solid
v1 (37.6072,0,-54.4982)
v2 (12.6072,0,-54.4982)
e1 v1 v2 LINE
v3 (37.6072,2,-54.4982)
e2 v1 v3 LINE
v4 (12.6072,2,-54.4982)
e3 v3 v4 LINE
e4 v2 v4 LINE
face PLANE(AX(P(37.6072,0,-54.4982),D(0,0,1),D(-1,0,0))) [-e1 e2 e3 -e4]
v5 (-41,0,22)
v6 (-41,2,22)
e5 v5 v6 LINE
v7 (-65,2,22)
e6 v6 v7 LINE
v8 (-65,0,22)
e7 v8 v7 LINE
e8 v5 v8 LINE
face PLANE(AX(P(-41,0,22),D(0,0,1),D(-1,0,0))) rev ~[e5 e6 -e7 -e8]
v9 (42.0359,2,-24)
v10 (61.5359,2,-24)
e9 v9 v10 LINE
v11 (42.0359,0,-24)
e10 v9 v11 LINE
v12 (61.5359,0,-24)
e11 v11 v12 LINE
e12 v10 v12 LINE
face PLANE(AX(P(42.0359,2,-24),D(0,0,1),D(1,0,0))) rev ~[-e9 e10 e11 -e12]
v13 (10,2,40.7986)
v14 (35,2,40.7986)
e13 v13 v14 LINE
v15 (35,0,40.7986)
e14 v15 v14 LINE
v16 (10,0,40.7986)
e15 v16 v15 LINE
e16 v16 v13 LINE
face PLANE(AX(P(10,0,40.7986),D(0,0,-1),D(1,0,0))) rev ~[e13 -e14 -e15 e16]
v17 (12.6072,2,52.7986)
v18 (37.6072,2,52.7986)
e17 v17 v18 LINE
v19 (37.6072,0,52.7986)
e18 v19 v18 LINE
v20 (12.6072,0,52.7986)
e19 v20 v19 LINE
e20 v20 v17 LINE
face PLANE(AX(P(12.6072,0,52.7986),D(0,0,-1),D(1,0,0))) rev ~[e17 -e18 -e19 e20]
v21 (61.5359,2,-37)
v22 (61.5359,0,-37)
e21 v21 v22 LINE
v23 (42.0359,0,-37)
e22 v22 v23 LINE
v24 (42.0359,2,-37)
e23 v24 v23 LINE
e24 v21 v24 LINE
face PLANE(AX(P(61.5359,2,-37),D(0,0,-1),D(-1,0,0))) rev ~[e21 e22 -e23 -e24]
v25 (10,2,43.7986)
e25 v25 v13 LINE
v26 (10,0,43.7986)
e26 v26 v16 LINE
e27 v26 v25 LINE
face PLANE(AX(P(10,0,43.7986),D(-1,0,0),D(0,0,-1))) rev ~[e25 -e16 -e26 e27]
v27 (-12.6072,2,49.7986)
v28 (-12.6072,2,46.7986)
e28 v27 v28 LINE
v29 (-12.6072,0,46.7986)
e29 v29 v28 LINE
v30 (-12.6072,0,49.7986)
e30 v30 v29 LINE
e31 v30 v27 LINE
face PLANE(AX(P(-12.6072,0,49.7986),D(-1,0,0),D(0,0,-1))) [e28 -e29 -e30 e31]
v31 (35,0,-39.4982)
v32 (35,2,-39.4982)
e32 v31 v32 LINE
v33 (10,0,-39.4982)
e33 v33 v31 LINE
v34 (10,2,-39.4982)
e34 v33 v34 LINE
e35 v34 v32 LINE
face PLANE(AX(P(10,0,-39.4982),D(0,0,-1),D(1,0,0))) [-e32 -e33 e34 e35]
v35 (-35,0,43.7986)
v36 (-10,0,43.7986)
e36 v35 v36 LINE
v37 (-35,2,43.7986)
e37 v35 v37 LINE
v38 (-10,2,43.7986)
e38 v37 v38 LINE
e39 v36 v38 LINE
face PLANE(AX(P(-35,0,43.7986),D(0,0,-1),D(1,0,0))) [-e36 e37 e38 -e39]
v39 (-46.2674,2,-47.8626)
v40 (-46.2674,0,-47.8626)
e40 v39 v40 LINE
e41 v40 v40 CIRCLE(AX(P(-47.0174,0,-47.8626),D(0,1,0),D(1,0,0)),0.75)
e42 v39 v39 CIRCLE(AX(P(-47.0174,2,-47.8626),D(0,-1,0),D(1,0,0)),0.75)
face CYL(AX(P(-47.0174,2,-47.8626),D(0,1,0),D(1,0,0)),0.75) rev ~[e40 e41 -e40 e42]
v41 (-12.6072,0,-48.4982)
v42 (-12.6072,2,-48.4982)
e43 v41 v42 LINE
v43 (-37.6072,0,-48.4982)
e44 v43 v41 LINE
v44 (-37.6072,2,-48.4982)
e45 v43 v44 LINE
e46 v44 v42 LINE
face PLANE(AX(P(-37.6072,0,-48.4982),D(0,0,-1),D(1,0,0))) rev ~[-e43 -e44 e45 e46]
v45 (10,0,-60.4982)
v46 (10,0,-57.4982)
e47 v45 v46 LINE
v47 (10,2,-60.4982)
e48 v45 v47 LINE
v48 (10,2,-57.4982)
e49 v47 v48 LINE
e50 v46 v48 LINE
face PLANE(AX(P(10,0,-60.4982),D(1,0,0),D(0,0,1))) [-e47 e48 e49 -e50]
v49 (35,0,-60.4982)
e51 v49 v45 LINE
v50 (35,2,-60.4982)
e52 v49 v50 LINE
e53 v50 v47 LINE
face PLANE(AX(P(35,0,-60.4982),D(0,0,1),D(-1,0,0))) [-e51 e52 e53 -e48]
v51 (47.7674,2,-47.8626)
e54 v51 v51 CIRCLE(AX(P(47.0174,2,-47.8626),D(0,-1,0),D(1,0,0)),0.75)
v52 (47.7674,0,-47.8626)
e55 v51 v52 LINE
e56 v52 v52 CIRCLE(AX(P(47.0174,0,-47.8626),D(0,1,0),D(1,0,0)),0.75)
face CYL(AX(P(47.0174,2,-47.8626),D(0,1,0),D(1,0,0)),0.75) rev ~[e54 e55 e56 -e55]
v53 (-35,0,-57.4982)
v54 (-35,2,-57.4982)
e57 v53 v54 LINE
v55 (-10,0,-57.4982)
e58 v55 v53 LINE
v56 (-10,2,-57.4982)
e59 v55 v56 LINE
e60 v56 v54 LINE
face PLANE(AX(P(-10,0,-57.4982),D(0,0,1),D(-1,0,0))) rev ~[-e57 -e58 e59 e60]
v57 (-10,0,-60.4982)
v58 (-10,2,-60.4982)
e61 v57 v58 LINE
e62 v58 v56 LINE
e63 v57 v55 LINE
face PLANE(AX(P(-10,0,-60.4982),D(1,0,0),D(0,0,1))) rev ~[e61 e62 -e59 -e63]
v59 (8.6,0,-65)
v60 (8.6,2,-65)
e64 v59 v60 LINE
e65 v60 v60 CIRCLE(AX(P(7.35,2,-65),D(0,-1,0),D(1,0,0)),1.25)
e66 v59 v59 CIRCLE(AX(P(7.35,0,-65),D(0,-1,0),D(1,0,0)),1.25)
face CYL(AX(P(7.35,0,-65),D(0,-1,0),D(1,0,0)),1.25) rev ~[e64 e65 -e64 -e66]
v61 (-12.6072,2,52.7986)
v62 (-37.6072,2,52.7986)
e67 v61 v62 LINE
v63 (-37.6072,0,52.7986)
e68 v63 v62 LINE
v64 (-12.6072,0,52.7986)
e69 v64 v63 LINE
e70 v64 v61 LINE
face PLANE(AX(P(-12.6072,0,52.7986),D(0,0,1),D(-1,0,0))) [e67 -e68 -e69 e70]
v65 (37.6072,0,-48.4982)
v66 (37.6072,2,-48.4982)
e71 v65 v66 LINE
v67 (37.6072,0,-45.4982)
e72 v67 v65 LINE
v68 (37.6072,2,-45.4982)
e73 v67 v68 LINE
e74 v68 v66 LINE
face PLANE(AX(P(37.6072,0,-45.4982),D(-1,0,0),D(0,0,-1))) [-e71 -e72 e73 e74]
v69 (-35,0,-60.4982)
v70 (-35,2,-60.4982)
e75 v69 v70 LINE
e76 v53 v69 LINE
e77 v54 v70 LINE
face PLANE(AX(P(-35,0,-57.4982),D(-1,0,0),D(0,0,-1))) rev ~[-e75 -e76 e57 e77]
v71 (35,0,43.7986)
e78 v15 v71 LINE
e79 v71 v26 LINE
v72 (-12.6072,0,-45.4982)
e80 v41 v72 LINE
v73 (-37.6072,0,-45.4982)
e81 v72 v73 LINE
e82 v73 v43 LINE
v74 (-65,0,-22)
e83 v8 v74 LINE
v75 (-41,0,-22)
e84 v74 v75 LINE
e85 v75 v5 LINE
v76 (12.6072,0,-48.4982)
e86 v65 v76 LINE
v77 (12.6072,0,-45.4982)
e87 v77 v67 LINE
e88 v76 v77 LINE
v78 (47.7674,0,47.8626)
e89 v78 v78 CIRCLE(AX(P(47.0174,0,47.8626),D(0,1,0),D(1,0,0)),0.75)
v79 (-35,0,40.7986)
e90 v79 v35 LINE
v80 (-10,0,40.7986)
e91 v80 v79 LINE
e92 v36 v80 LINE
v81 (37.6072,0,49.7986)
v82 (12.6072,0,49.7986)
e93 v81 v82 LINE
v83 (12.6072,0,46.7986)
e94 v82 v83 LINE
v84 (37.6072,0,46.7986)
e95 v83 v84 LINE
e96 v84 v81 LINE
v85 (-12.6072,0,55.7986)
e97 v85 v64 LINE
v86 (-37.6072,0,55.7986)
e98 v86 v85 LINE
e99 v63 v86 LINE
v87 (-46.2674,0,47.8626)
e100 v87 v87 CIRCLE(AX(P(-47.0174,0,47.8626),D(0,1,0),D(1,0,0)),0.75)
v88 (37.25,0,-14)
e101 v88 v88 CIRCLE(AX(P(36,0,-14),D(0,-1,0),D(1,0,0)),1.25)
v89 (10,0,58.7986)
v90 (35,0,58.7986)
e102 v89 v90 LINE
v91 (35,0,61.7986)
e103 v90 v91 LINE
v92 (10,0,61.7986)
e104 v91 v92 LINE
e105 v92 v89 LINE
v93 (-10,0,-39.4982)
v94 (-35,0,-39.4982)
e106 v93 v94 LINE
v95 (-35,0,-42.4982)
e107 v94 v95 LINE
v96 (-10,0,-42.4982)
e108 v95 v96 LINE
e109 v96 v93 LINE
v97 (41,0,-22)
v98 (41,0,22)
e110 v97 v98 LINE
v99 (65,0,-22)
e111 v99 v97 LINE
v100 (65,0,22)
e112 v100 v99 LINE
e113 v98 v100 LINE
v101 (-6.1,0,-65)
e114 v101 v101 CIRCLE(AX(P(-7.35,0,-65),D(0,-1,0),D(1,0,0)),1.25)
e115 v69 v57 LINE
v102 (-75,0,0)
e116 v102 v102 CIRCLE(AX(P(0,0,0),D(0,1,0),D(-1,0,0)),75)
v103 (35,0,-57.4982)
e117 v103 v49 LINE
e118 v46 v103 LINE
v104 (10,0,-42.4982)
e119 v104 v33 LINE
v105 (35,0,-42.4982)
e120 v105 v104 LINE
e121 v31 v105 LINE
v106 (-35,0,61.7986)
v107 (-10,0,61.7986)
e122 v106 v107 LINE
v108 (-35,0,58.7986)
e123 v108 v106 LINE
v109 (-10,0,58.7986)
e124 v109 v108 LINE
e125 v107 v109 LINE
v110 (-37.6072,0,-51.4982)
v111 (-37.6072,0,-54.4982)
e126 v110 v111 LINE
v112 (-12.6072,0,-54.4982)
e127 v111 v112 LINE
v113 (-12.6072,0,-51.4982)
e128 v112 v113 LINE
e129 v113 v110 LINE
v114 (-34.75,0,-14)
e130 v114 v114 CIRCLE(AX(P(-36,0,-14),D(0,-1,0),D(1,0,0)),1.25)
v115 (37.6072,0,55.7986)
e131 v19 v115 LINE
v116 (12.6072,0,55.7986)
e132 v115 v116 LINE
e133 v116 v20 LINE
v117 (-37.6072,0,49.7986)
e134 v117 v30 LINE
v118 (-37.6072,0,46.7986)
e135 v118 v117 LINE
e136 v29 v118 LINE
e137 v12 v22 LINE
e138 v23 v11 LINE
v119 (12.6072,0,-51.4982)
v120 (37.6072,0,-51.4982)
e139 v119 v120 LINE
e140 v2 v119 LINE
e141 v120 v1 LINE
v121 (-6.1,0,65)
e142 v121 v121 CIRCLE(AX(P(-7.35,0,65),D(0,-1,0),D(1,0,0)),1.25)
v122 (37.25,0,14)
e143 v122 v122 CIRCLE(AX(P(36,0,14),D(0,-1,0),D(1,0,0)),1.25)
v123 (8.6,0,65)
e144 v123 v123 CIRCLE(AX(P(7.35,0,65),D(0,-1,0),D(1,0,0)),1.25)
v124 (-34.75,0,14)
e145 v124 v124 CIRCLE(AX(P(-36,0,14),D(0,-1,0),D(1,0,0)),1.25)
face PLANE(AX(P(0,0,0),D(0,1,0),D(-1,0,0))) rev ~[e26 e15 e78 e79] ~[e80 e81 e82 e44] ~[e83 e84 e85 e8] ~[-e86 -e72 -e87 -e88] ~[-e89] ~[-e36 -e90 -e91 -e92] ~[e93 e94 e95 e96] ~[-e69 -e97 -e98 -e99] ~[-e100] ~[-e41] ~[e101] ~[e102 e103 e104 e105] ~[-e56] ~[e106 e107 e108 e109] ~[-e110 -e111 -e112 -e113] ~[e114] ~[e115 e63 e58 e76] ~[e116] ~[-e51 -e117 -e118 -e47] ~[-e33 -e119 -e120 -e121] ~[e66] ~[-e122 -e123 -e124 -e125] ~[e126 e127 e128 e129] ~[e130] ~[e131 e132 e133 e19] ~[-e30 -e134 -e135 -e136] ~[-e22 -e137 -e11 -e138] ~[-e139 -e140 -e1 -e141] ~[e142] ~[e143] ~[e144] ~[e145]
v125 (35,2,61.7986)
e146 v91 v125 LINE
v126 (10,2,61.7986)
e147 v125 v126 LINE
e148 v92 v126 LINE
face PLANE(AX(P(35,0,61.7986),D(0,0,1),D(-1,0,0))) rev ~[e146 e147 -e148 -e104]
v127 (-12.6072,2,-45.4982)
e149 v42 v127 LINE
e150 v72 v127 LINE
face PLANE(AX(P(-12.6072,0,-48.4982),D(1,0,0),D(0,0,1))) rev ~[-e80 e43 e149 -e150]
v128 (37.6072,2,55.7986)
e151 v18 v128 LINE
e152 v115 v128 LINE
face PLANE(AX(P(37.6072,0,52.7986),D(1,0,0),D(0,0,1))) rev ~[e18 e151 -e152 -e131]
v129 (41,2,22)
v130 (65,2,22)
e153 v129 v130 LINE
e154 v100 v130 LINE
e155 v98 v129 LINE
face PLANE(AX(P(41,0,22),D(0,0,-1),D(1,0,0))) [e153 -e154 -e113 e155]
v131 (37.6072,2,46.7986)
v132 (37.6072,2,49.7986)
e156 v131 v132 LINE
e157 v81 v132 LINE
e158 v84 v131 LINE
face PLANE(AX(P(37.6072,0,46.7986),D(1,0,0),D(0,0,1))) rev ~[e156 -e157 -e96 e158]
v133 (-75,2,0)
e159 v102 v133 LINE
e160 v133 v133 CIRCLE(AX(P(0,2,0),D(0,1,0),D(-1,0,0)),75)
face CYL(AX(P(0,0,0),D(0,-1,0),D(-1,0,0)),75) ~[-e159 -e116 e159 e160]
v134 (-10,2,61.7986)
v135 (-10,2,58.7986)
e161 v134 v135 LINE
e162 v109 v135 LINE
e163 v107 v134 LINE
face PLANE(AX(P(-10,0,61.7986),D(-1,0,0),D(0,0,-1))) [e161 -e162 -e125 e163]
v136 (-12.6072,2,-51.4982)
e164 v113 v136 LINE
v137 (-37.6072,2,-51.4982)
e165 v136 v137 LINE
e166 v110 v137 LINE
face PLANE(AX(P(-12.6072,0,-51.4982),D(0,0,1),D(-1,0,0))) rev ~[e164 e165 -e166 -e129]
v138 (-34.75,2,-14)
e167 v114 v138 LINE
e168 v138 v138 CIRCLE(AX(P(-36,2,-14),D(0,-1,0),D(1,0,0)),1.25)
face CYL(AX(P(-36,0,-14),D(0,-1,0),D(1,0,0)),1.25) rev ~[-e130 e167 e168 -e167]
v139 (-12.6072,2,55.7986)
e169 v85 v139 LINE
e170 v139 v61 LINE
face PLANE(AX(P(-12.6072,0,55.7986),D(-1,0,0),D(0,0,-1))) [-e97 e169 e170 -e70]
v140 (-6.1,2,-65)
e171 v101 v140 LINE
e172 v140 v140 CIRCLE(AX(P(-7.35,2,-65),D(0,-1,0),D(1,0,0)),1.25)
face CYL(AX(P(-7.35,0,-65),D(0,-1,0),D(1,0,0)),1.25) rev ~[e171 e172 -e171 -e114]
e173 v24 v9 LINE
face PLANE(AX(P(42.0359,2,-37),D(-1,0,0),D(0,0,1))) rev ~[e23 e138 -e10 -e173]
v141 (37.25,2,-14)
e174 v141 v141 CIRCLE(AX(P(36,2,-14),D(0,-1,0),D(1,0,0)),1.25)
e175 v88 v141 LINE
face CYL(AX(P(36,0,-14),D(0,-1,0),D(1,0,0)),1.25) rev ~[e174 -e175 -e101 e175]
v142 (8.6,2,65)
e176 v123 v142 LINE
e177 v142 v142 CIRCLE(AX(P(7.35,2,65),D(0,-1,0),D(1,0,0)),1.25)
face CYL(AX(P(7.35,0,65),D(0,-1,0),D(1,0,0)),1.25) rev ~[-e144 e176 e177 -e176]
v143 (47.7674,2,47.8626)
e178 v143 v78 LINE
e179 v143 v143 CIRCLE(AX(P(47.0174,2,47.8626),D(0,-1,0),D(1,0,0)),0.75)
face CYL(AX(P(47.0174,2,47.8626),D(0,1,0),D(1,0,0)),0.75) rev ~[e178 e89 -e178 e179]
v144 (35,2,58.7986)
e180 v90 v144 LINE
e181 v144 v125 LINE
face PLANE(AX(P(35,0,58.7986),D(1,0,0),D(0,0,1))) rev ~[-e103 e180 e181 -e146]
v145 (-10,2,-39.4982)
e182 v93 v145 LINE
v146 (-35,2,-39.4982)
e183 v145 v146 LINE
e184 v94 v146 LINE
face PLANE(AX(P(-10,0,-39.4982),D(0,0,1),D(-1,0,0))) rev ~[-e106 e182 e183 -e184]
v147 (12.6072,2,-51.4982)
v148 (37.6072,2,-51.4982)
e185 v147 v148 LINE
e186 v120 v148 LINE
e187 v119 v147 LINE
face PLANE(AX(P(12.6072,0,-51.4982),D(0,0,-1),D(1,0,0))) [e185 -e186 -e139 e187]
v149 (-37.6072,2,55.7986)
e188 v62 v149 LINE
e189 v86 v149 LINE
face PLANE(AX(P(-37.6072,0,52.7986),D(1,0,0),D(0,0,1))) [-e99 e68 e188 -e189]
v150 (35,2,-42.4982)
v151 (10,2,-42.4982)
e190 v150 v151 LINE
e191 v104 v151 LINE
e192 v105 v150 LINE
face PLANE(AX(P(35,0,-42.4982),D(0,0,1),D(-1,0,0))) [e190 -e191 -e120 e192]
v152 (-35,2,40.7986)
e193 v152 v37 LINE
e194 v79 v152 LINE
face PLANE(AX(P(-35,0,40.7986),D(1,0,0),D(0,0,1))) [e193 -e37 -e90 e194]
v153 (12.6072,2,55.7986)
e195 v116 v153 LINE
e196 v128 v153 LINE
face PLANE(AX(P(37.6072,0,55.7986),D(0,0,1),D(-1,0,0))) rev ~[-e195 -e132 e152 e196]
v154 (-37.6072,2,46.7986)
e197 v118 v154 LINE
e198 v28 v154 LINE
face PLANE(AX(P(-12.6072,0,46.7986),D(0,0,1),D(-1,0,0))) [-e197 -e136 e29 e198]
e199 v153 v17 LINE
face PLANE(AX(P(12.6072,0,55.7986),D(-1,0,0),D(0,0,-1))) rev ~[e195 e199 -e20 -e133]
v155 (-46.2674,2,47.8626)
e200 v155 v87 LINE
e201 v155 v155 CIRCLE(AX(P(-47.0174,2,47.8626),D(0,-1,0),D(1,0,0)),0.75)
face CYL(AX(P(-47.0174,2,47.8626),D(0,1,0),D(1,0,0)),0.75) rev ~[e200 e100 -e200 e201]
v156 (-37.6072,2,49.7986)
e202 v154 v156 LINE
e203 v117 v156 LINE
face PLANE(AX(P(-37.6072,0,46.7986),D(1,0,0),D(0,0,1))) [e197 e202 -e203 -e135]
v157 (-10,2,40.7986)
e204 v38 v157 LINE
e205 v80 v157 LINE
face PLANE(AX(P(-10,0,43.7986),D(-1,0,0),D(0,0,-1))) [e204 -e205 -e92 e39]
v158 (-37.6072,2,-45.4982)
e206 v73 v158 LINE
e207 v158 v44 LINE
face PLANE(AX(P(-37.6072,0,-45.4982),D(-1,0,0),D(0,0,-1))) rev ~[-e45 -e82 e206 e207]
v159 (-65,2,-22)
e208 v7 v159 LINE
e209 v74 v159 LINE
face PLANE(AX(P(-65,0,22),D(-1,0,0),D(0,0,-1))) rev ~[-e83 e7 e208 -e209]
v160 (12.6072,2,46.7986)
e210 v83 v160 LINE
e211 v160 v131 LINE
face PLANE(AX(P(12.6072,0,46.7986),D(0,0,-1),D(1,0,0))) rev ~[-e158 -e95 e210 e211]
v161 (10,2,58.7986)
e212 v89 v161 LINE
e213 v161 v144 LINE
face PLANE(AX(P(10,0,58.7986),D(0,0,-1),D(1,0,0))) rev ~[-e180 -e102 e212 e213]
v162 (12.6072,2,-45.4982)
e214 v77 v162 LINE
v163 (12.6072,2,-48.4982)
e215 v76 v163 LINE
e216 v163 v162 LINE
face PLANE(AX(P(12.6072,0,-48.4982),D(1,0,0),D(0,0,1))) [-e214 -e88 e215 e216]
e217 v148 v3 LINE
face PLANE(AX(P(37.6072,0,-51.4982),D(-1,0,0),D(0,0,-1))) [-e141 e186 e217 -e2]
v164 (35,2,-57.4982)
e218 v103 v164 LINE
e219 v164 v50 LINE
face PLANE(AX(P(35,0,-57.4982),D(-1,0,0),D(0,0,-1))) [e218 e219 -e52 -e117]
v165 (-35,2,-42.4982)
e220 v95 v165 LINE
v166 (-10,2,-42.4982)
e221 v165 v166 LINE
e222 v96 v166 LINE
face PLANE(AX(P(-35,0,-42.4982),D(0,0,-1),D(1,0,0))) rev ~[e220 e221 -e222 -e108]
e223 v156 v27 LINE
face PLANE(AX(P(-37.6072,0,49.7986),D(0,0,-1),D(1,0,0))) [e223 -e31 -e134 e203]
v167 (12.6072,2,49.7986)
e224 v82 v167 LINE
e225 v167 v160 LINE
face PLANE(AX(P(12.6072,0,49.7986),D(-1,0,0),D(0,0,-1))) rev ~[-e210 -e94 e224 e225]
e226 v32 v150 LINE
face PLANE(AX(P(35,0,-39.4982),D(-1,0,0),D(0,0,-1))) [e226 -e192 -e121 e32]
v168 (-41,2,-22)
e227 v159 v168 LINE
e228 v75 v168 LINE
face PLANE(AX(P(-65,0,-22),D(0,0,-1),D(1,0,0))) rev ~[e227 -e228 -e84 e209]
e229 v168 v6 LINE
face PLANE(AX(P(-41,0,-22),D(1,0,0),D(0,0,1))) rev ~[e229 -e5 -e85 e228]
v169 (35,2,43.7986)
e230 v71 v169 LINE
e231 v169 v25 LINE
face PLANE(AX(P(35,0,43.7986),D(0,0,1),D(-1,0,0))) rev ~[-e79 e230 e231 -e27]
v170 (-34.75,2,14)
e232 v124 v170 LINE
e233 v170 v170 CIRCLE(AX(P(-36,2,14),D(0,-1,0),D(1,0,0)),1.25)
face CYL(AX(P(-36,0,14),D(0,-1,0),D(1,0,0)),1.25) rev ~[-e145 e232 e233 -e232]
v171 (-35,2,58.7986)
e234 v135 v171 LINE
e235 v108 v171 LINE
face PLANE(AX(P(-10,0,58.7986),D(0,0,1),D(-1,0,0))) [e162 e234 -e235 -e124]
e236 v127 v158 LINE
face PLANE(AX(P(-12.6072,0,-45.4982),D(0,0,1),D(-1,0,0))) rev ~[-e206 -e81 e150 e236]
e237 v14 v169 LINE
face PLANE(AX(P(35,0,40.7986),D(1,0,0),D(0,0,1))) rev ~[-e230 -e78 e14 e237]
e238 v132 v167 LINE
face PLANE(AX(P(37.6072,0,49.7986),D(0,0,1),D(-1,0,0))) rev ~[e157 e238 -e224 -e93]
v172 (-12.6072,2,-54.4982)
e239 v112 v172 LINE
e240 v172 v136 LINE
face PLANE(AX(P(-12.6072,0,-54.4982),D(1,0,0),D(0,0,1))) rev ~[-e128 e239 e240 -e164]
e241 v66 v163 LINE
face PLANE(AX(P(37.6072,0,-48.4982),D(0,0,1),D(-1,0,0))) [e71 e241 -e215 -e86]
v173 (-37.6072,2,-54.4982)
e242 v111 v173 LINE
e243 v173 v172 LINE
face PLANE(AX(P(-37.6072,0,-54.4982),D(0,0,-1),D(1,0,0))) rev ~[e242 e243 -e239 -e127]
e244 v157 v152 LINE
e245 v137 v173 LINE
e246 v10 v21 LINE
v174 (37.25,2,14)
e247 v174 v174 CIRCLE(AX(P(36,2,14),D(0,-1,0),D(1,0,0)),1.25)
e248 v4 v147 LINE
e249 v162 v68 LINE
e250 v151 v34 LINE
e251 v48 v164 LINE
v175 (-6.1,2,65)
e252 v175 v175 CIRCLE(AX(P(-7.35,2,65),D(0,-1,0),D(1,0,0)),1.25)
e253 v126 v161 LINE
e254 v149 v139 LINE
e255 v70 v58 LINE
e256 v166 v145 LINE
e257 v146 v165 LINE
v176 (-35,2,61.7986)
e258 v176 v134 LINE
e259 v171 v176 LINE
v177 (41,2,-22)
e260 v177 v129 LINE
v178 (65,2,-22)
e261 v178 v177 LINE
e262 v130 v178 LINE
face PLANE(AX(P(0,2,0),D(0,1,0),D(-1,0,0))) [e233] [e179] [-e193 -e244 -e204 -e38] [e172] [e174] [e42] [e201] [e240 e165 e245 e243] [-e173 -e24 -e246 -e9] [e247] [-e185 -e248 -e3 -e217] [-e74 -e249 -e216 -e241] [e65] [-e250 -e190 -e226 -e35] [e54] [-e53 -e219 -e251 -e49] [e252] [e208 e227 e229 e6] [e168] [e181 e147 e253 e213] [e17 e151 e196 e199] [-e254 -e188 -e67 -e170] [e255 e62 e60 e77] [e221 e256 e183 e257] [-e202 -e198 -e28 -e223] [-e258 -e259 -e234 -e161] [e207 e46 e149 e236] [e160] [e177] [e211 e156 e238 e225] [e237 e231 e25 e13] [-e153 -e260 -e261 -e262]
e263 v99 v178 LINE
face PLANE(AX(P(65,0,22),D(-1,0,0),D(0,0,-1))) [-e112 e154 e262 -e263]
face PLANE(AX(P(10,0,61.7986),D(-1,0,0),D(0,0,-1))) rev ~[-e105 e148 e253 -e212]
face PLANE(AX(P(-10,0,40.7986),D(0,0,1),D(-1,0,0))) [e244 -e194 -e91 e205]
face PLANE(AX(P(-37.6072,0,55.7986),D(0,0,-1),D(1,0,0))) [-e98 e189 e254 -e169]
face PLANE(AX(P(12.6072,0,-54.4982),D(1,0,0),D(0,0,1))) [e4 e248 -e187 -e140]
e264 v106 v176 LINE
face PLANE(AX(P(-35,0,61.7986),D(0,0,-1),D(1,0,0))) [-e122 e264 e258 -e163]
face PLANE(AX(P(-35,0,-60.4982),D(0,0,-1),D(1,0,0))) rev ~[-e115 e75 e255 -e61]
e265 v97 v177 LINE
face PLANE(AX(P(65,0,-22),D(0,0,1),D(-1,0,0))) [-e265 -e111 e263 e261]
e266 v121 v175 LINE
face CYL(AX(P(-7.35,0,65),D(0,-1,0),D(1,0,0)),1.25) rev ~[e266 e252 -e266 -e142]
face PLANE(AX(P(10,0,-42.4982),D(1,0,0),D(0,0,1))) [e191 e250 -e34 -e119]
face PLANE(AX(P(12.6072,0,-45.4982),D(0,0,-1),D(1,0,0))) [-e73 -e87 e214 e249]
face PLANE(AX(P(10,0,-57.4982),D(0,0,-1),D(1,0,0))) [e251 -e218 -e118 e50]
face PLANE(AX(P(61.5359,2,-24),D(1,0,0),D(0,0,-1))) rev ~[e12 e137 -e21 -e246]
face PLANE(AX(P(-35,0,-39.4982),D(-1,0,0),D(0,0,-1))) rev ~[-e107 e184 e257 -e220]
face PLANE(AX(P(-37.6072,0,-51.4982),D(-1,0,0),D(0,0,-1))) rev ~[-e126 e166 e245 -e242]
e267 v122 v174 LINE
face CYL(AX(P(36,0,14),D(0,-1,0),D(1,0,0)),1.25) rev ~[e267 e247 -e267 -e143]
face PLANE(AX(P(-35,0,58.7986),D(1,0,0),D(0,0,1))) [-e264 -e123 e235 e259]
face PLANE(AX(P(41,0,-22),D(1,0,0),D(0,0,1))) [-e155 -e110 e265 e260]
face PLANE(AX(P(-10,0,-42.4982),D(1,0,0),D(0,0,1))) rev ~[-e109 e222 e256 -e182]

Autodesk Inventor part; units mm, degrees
ref_plane "YZ Plane" through (0, 0, 0) normal (1, 0, 0) x (0, 1, 0)
ref_plane "XZ Plane" through (0, 0, 0) normal (0, 1, 0) x (-1, 0, 0)
ref_plane "XY Plane" through (0, 0, 0) normal (0, 0, 1) x (1, 0, 0)
sketch "Boceto1" plane through (0, 0, 0) normal (0, 1, 0) x (-1, 0, 0)
  circle A0 centre (0, 0) radius 75
  line L0 (65, -22) -> (41, -22)
  line L1 (41, -22) -> (41, 22)
  line L2 (41, 22) -> (65, 22)
  line L3 (65, 22) -> (65, -22)
  line L4 (37.6072, -48.4982) -> (12.6072, -48.4982)
  line L5 (12.6072, -48.4982) -> (12.6072, -45.4982)
  line L6 (12.6072, -45.4982) -> (37.6072, -45.4982)
  line L7 (37.6072, -45.4982) -> (37.6072, -48.4982)
  line L8 (37.6072, -54.4982) -> (12.6072, -54.4982)
  line L9 (12.6072, -54.4982) -> (12.6072, -51.4982)
  line L10 (12.6072, -51.4982) -> (37.6072, -51.4982)
  line L11 (37.6072, -51.4982) -> (37.6072, -54.4982)
  line L12 (35, -60.4982) -> (10, -60.4982)
  line L13 (10, -60.4982) -> (10, -57.4982)
  line L14 (10, -57.4982) -> (35, -57.4982)
  line L15 (35, -57.4982) -> (35, -60.4982)
  line L16 (35, -42.4982) -> (10, -42.4982)
  line L17 (10, -42.4982) -> (10, -39.4982)
  line L18 (10, -39.4982) -> (35, -39.4982)
  line L19 (35, -39.4982) -> (35, -42.4982)
  line L20 (-37.6072, -48.4982) -> (-12.6072, -48.4982)
  line L21 (-12.6072, -48.4982) -> (-12.6072, -45.4982)
  line L22 (-12.6072, -45.4982) -> (-37.6072, -45.4982)
  line L23 (-37.6072, -45.4982) -> (-37.6072, -48.4982)
  line L24 (-37.6072, -54.4982) -> (-12.6072, -54.4982)
  line L25 (-37.6072, -51.4982) -> (-37.6072, -54.4982)
  line L26 (-12.6072, -51.4982) -> (-37.6072, -51.4982)
  line L27 (-12.6072, -54.4982) -> (-12.6072, -51.4982)
  line L28 (-35, -60.4982) -> (-10, -60.4982)
  line L29 (-35, -57.4982) -> (-35, -60.4982)
  line L30 (-10, -57.4982) -> (-35, -57.4982)
  line L31 (-10, -60.4982) -> (-10, -57.4982)
  line L32 (-35, -42.4982) -> (-10, -42.4982)
  line L33 (-35, -39.4982) -> (-35, -42.4982)
  line L34 (-10, -39.4982) -> (-35, -39.4982)
  line L35 (-10, -42.4982) -> (-10, -39.4982)
  line L36 (-65, -22) -> (-41, -22)
  line L37 (-41, -22) -> (-41, 22)
  line L38 (-41, 22) -> (-65, 22)
  line L39 (-65, 22) -> (-65, -22)
  line L40 (37.6072, 49.7986) -> (12.6072, 49.7986)
  line L41 (12.6072, 49.7986) -> (12.6072, 46.7986)
  line L42 (12.6072, 46.7986) -> (37.6072, 46.7986)
  line L43 (37.6072, 46.7986) -> (37.6072, 49.7986)
  line L44 (37.6072, 55.7986) -> (12.6072, 55.7986)
  line L45 (37.6072, 52.7986) -> (37.6072, 55.7986)
  line L46 (12.6072, 52.7986) -> (37.6072, 52.7986)
  line L47 (12.6072, 55.7986) -> (12.6072, 52.7986)
  line L48 (35, 61.7986) -> (10, 61.7986)
  line L49 (35, 58.7986) -> (35, 61.7986)
  line L50 (10, 58.7986) -> (35, 58.7986)
  line L51 (10, 61.7986) -> (10, 58.7986)
  line L52 (35, 43.7986) -> (10, 43.7986)
  line L53 (35, 40.7986) -> (35, 43.7986)
  line L54 (10, 40.7986) -> (35, 40.7986)
  line L55 (10, 43.7986) -> (10, 40.7986)
  line L56 (-35, 40.7986) -> (-35, 43.7986)
  line L57 (-10, 43.7986) -> (-10, 40.7986)
  line L58 (-10, 40.7986) -> (-35, 40.7986)
  line L59 (-35, 43.7986) -> (-10, 43.7986)
  line L60 (-12.6072, 49.7986) -> (-12.6072, 46.7986)
  line L61 (-12.6072, 46.7986) -> (-37.6072, 46.7986)
  line L62 (-37.6072, 46.7986) -> (-37.6072, 49.7986)
  line L63 (-37.6072, 49.7986) -> (-12.6072, 49.7986)
  line L64 (-12.6072, 55.7986) -> (-12.6072, 52.7986)
  line L65 (-12.6072, 52.7986) -> (-37.6072, 52.7986)
  line L66 (-37.6072, 55.7986) -> (-12.6072, 55.7986)
  line L67 (-10, 58.7986) -> (-35, 58.7986)
  line L68 (-35, 61.7986) -> (-10, 61.7986)
  line L69 (-10, 61.7986) -> (-10, 58.7986)
  line L70 (-37.6072, 52.7986) -> (-37.6072, 55.7986)
  line L71 (-35, 58.7986) -> (-35, 61.7986)
  point P0 (0, 25.3749)
  dimension "d0" = 150
  dimension "d1" = 24
  dimension "d2" = 44
  dimension "d3" = 10
  dimension "d4" = 25
  dimension "d5" = 3
  dimension "d6" = 25
  dimension "d7" = 3
  dimension "d8" = 25
  dimension "d9" = 3
  dimension "d10" = 25
  dimension "d11" = 3
  dimension "d12" = 3
  dimension "d13" = 3
  dimension "d14" = 3
  dimension "d15" = 0
extrude "Extrusión1" add sketch "Boceto1" along normal blind 2
sketch "Boceto2" plane through (0, 2, 0) normal (0, 1, 0) x (1, 0, 0)
  line L0 (0, 0) -> (0, -9.9603)
  line L1 (0, 0) -> (61.7788, -62.8893)
  circle A0 centre (47.0174, -47.8626) radius 0.75
  arc A1 (50.5529, -44.327) -> (43.5135, -51.4295) centre (47.0174, -47.8626) ccw
  line L2 (-72.438, 0) -> (-75, 0)
  circle A2 centre (0, 0) radius 72.438
  line L3 (44.0781, -44.8705) -> (47.0174, -47.8626)
  line L4 (43.4505, -51.3665) -> (48.0344, -55.9504)
  line L5 (43.4505, -51.3665) -> (49.9332, -51.3665) construction
  line L6 (47.0174, -47.8626) -> (52.0174, -47.8626) construction
  line L7 (50.5529, -44.327) -> (55.1054, -48.8795)
  line L8 (55.1054, -48.8795) -> (48.0344, -55.9504)
  circle A3 centre (-47.0174, -47.8626) radius 0.75
  arc A4 (-43.5135, -51.4295) -> (-50.5529, -44.327) centre (-47.0174, -47.8626) ccw
  line L9 (-44.0781, -44.8705) -> (-47.0174, -47.8626)
  line L10 (-43.4505, -51.3665) -> (-48.0344, -55.9504)
  line L11 (-43.4505, -51.3665) -> (-49.9332, -51.3665) construction
  line L12 (-47.0174, -47.8626) -> (-52.0174, -47.8626) construction
  line L13 (-50.5529, -44.327) -> (-55.1054, -48.8795)
  line L14 (-55.1054, -48.8795) -> (-48.0344, -55.9504)
  line L15 (0, 0) -> (7.916, 0)
  line L16 (-44.0781, 44.8705) -> (-47.0174, 47.8626)
  circle A5 centre (-47.0174, 47.8626) radius 0.75
  line L17 (-43.4505, 51.3665) -> (-49.9332, 51.3665) construction
  arc A6 (-50.5529, 44.327) -> (-43.5135, 51.4295) centre (-47.0174, 47.8626) ccw
  line L18 (-43.4505, 51.3665) -> (-48.0344, 55.9504)
  line L19 (-47.0174, 47.8626) -> (-52.0174, 47.8626) construction
  line L20 (-50.5529, 44.327) -> (-55.1054, 48.8795)
  line L21 (-55.1054, 48.8795) -> (-48.0344, 55.9504)
  line L22 (0, 0) -> (61.7788, 62.8893)
  circle A7 centre (0, 0) radius 72.438
  circle A8 centre (47.0174, 47.8626) radius 0.75
  arc A9 (43.5135, 51.4295) -> (50.5529, 44.327) centre (47.0174, 47.8626) ccw
  line L23 (44.0781, 44.8705) -> (47.0174, 47.8626)
  line L24 (43.4505, 51.3665) -> (48.0344, 55.9504)
  line L25 (47.0174, 47.8626) -> (52.0174, 47.8626) construction
  line L26 (55.1054, 48.8795) -> (48.0344, 55.9504)
  line L27 (50.5529, 44.327) -> (55.1054, 48.8795)
  line L28 (43.4505, 51.3665) -> (49.9332, 51.3665) construction
  dimension "d26" = 1.5
  dimension "d27" = 45
  dimension "d28" = 44.49
  dimension "d29" = 45.51
extrude "Extrusión2" cut sketch "Boceto2" against normal blind 10 contours A0 L1 | L1 A0 | A8 L22 | L22 A8 | A3 | A5
sketch "Boceto3" plane through (0, 0, 0) normal (0, -1, 0) x (1, 0, 0)
  line L0 (0, 0) -> (0, 96.9999)
  line L1 (0, 0) -> (57.8177, 0)
  circle A0 centre (7.35, 65) radius 1.25
  circle A1 centre (-7.35, 65) radius 1.25
  circle A2 centre (7.35, -65) radius 1.25
  circle A3 centre (-7.35, -65) radius 1.25
  dimension "d32" = 2.5
  dimension "d33" = 7.35
  dimension "d34" = 65
extrude "Extrusión3" cut sketch "Boceto3" against normal blind 10
sketch "Boceto4" plane through (0, 0, 0) normal (0, -1, 0) x (1, 0, 0)
  circle A0 centre (-36, 14) radius 1.25
  line L0 (0, 0) -> (0, 13.2611)
  line L1 (0, 0) -> (12.4525, 0)
  circle A1 centre (36, 14) radius 1.25
  circle A2 centre (-36, -14) radius 1.25
  circle A3 centre (36, -14) radius 1.25
  line L2 (-41, 22) -> (-41, -22) projected
  point P0 (0, -13.2611)
  dimension "d37" = 2.5
  dimension "d38" = 14
  dimension "d39" = 5
extrude "Extrusión4" cut sketch "Boceto4" against normal blind 10
sketch "Boceto5" plane through (0, 2, 0) normal (0, 1, 0) x (1, 0, 0)
  line L0 (61.5359, 24) -> (61.5359, 37)
  line L1 (61.5359, 37) -> (42.0359, 37)
  line L2 (42.0359, 37) -> (42.0359, 24)
  line L3 (42.0359, 24) -> (61.5359, 24)
  line L4 (37.6072, 48.4982) -> (37.6072, 45.4982) projected
  line L5 (41, 22) -> (65, 22) projected
  point P0 (0, 0)
  dimension "d46" = 13
  dimension "d47" = 19.5
  dimension "d50" = 2
extrude "Extrusión5" cut sketch "Boceto5" against normal blind 10
sketch "Boceto6" plane through (0, 2, 0) normal (0, 1, 0) x (1, 0, 0)
  circle A0 centre (23, 0) radius 0.75
  circle A1 centre (-23, 0) radius 0.75
  line L0 (-20, 33) -> (20, 33)
  line L1 (20, 33) -> (20, -33)
  line L2 (20, -33) -> (-20, -33)
  line L3 (-20, -33) -> (-20, 33)
  circle A2 centre (-23, 32) radius 0.75
  circle A3 centre (-23, -32) radius 0.75
  circle A4 centre (23, -32) radius 0.75
  circle A5 centre (23, 32) radius 0.75
  line L4 (22, 2.2913) -> (22, 29.7087)
  arc A6 (22, 29.7087) -> (22, 34.2913) centre (23, 32) ccw
  line L5 (22, 34.2913) -> (22, 35)
  line L6 (22, 35) -> (-22, 35)
  line L7 (-22, 35) -> (-22, 34.2913)
  arc A7 (-22, 34.2913) -> (-22, 29.7087) centre (-23, 32) ccw
  line L8 (-22, 29.7087) -> (-22, 2.2913)
  arc A8 (-22, 2.2913) -> (-22, -2.2913) centre (-23, 0) ccw
  line L9 (-22, -2.2913) -> (-22, -29.7087)
  arc A9 (-22, -29.7087) -> (-22, -34.2913) centre (-23, -32) ccw
  line L10 (-22, -34.2913) -> (-22, -35)
  line L11 (-22, -35) -> (22, -35)
  line L12 (22, -35) -> (22, -34.2913)
  arc A10 (22, -34.2913) -> (22, -29.7087) centre (23, -32) ccw
  line L13 (22, -29.7087) -> (22, -2.2913)
  arc A11 (22, -2.2913) -> (22, 2.2913) centre (23, 0) ccw
  line L14 (22, -29.7087) -> (22, -34.2913)
  line L15 (-22, -34.2913) -> (-22, -29.7087)
  line L16 (-22, 29.7087) -> (-22, 34.2913)
  line L17 (22, 34.2913) -> (22, 29.7087)
  line L18 (22, -35) -> (-22, -35)
  line L19 (-22, -35) -> (-22, -37)
  line L20 (-22, -37) -> (22, -37)
  line L21 (22, -37) -> (22, -35)
  line L22 (-22, 35) -> (22, 35)
  line L23 (22, 35) -> (22, 37)
  line L24 (22, 37) -> (-22, 37)
  line L25 (-22, 37) -> (-22, 35)
  point P0 (0, 0)
  point P1 (0, 0)
  dimension "d55" = 70
  dimension "d56" = 2
  dimension "d57" = 44
  dimension "d58" = 2
extrude "Extrusión6" [suppressed]
feature "Engrosado1" [suppressed]
properties part number "Base"
